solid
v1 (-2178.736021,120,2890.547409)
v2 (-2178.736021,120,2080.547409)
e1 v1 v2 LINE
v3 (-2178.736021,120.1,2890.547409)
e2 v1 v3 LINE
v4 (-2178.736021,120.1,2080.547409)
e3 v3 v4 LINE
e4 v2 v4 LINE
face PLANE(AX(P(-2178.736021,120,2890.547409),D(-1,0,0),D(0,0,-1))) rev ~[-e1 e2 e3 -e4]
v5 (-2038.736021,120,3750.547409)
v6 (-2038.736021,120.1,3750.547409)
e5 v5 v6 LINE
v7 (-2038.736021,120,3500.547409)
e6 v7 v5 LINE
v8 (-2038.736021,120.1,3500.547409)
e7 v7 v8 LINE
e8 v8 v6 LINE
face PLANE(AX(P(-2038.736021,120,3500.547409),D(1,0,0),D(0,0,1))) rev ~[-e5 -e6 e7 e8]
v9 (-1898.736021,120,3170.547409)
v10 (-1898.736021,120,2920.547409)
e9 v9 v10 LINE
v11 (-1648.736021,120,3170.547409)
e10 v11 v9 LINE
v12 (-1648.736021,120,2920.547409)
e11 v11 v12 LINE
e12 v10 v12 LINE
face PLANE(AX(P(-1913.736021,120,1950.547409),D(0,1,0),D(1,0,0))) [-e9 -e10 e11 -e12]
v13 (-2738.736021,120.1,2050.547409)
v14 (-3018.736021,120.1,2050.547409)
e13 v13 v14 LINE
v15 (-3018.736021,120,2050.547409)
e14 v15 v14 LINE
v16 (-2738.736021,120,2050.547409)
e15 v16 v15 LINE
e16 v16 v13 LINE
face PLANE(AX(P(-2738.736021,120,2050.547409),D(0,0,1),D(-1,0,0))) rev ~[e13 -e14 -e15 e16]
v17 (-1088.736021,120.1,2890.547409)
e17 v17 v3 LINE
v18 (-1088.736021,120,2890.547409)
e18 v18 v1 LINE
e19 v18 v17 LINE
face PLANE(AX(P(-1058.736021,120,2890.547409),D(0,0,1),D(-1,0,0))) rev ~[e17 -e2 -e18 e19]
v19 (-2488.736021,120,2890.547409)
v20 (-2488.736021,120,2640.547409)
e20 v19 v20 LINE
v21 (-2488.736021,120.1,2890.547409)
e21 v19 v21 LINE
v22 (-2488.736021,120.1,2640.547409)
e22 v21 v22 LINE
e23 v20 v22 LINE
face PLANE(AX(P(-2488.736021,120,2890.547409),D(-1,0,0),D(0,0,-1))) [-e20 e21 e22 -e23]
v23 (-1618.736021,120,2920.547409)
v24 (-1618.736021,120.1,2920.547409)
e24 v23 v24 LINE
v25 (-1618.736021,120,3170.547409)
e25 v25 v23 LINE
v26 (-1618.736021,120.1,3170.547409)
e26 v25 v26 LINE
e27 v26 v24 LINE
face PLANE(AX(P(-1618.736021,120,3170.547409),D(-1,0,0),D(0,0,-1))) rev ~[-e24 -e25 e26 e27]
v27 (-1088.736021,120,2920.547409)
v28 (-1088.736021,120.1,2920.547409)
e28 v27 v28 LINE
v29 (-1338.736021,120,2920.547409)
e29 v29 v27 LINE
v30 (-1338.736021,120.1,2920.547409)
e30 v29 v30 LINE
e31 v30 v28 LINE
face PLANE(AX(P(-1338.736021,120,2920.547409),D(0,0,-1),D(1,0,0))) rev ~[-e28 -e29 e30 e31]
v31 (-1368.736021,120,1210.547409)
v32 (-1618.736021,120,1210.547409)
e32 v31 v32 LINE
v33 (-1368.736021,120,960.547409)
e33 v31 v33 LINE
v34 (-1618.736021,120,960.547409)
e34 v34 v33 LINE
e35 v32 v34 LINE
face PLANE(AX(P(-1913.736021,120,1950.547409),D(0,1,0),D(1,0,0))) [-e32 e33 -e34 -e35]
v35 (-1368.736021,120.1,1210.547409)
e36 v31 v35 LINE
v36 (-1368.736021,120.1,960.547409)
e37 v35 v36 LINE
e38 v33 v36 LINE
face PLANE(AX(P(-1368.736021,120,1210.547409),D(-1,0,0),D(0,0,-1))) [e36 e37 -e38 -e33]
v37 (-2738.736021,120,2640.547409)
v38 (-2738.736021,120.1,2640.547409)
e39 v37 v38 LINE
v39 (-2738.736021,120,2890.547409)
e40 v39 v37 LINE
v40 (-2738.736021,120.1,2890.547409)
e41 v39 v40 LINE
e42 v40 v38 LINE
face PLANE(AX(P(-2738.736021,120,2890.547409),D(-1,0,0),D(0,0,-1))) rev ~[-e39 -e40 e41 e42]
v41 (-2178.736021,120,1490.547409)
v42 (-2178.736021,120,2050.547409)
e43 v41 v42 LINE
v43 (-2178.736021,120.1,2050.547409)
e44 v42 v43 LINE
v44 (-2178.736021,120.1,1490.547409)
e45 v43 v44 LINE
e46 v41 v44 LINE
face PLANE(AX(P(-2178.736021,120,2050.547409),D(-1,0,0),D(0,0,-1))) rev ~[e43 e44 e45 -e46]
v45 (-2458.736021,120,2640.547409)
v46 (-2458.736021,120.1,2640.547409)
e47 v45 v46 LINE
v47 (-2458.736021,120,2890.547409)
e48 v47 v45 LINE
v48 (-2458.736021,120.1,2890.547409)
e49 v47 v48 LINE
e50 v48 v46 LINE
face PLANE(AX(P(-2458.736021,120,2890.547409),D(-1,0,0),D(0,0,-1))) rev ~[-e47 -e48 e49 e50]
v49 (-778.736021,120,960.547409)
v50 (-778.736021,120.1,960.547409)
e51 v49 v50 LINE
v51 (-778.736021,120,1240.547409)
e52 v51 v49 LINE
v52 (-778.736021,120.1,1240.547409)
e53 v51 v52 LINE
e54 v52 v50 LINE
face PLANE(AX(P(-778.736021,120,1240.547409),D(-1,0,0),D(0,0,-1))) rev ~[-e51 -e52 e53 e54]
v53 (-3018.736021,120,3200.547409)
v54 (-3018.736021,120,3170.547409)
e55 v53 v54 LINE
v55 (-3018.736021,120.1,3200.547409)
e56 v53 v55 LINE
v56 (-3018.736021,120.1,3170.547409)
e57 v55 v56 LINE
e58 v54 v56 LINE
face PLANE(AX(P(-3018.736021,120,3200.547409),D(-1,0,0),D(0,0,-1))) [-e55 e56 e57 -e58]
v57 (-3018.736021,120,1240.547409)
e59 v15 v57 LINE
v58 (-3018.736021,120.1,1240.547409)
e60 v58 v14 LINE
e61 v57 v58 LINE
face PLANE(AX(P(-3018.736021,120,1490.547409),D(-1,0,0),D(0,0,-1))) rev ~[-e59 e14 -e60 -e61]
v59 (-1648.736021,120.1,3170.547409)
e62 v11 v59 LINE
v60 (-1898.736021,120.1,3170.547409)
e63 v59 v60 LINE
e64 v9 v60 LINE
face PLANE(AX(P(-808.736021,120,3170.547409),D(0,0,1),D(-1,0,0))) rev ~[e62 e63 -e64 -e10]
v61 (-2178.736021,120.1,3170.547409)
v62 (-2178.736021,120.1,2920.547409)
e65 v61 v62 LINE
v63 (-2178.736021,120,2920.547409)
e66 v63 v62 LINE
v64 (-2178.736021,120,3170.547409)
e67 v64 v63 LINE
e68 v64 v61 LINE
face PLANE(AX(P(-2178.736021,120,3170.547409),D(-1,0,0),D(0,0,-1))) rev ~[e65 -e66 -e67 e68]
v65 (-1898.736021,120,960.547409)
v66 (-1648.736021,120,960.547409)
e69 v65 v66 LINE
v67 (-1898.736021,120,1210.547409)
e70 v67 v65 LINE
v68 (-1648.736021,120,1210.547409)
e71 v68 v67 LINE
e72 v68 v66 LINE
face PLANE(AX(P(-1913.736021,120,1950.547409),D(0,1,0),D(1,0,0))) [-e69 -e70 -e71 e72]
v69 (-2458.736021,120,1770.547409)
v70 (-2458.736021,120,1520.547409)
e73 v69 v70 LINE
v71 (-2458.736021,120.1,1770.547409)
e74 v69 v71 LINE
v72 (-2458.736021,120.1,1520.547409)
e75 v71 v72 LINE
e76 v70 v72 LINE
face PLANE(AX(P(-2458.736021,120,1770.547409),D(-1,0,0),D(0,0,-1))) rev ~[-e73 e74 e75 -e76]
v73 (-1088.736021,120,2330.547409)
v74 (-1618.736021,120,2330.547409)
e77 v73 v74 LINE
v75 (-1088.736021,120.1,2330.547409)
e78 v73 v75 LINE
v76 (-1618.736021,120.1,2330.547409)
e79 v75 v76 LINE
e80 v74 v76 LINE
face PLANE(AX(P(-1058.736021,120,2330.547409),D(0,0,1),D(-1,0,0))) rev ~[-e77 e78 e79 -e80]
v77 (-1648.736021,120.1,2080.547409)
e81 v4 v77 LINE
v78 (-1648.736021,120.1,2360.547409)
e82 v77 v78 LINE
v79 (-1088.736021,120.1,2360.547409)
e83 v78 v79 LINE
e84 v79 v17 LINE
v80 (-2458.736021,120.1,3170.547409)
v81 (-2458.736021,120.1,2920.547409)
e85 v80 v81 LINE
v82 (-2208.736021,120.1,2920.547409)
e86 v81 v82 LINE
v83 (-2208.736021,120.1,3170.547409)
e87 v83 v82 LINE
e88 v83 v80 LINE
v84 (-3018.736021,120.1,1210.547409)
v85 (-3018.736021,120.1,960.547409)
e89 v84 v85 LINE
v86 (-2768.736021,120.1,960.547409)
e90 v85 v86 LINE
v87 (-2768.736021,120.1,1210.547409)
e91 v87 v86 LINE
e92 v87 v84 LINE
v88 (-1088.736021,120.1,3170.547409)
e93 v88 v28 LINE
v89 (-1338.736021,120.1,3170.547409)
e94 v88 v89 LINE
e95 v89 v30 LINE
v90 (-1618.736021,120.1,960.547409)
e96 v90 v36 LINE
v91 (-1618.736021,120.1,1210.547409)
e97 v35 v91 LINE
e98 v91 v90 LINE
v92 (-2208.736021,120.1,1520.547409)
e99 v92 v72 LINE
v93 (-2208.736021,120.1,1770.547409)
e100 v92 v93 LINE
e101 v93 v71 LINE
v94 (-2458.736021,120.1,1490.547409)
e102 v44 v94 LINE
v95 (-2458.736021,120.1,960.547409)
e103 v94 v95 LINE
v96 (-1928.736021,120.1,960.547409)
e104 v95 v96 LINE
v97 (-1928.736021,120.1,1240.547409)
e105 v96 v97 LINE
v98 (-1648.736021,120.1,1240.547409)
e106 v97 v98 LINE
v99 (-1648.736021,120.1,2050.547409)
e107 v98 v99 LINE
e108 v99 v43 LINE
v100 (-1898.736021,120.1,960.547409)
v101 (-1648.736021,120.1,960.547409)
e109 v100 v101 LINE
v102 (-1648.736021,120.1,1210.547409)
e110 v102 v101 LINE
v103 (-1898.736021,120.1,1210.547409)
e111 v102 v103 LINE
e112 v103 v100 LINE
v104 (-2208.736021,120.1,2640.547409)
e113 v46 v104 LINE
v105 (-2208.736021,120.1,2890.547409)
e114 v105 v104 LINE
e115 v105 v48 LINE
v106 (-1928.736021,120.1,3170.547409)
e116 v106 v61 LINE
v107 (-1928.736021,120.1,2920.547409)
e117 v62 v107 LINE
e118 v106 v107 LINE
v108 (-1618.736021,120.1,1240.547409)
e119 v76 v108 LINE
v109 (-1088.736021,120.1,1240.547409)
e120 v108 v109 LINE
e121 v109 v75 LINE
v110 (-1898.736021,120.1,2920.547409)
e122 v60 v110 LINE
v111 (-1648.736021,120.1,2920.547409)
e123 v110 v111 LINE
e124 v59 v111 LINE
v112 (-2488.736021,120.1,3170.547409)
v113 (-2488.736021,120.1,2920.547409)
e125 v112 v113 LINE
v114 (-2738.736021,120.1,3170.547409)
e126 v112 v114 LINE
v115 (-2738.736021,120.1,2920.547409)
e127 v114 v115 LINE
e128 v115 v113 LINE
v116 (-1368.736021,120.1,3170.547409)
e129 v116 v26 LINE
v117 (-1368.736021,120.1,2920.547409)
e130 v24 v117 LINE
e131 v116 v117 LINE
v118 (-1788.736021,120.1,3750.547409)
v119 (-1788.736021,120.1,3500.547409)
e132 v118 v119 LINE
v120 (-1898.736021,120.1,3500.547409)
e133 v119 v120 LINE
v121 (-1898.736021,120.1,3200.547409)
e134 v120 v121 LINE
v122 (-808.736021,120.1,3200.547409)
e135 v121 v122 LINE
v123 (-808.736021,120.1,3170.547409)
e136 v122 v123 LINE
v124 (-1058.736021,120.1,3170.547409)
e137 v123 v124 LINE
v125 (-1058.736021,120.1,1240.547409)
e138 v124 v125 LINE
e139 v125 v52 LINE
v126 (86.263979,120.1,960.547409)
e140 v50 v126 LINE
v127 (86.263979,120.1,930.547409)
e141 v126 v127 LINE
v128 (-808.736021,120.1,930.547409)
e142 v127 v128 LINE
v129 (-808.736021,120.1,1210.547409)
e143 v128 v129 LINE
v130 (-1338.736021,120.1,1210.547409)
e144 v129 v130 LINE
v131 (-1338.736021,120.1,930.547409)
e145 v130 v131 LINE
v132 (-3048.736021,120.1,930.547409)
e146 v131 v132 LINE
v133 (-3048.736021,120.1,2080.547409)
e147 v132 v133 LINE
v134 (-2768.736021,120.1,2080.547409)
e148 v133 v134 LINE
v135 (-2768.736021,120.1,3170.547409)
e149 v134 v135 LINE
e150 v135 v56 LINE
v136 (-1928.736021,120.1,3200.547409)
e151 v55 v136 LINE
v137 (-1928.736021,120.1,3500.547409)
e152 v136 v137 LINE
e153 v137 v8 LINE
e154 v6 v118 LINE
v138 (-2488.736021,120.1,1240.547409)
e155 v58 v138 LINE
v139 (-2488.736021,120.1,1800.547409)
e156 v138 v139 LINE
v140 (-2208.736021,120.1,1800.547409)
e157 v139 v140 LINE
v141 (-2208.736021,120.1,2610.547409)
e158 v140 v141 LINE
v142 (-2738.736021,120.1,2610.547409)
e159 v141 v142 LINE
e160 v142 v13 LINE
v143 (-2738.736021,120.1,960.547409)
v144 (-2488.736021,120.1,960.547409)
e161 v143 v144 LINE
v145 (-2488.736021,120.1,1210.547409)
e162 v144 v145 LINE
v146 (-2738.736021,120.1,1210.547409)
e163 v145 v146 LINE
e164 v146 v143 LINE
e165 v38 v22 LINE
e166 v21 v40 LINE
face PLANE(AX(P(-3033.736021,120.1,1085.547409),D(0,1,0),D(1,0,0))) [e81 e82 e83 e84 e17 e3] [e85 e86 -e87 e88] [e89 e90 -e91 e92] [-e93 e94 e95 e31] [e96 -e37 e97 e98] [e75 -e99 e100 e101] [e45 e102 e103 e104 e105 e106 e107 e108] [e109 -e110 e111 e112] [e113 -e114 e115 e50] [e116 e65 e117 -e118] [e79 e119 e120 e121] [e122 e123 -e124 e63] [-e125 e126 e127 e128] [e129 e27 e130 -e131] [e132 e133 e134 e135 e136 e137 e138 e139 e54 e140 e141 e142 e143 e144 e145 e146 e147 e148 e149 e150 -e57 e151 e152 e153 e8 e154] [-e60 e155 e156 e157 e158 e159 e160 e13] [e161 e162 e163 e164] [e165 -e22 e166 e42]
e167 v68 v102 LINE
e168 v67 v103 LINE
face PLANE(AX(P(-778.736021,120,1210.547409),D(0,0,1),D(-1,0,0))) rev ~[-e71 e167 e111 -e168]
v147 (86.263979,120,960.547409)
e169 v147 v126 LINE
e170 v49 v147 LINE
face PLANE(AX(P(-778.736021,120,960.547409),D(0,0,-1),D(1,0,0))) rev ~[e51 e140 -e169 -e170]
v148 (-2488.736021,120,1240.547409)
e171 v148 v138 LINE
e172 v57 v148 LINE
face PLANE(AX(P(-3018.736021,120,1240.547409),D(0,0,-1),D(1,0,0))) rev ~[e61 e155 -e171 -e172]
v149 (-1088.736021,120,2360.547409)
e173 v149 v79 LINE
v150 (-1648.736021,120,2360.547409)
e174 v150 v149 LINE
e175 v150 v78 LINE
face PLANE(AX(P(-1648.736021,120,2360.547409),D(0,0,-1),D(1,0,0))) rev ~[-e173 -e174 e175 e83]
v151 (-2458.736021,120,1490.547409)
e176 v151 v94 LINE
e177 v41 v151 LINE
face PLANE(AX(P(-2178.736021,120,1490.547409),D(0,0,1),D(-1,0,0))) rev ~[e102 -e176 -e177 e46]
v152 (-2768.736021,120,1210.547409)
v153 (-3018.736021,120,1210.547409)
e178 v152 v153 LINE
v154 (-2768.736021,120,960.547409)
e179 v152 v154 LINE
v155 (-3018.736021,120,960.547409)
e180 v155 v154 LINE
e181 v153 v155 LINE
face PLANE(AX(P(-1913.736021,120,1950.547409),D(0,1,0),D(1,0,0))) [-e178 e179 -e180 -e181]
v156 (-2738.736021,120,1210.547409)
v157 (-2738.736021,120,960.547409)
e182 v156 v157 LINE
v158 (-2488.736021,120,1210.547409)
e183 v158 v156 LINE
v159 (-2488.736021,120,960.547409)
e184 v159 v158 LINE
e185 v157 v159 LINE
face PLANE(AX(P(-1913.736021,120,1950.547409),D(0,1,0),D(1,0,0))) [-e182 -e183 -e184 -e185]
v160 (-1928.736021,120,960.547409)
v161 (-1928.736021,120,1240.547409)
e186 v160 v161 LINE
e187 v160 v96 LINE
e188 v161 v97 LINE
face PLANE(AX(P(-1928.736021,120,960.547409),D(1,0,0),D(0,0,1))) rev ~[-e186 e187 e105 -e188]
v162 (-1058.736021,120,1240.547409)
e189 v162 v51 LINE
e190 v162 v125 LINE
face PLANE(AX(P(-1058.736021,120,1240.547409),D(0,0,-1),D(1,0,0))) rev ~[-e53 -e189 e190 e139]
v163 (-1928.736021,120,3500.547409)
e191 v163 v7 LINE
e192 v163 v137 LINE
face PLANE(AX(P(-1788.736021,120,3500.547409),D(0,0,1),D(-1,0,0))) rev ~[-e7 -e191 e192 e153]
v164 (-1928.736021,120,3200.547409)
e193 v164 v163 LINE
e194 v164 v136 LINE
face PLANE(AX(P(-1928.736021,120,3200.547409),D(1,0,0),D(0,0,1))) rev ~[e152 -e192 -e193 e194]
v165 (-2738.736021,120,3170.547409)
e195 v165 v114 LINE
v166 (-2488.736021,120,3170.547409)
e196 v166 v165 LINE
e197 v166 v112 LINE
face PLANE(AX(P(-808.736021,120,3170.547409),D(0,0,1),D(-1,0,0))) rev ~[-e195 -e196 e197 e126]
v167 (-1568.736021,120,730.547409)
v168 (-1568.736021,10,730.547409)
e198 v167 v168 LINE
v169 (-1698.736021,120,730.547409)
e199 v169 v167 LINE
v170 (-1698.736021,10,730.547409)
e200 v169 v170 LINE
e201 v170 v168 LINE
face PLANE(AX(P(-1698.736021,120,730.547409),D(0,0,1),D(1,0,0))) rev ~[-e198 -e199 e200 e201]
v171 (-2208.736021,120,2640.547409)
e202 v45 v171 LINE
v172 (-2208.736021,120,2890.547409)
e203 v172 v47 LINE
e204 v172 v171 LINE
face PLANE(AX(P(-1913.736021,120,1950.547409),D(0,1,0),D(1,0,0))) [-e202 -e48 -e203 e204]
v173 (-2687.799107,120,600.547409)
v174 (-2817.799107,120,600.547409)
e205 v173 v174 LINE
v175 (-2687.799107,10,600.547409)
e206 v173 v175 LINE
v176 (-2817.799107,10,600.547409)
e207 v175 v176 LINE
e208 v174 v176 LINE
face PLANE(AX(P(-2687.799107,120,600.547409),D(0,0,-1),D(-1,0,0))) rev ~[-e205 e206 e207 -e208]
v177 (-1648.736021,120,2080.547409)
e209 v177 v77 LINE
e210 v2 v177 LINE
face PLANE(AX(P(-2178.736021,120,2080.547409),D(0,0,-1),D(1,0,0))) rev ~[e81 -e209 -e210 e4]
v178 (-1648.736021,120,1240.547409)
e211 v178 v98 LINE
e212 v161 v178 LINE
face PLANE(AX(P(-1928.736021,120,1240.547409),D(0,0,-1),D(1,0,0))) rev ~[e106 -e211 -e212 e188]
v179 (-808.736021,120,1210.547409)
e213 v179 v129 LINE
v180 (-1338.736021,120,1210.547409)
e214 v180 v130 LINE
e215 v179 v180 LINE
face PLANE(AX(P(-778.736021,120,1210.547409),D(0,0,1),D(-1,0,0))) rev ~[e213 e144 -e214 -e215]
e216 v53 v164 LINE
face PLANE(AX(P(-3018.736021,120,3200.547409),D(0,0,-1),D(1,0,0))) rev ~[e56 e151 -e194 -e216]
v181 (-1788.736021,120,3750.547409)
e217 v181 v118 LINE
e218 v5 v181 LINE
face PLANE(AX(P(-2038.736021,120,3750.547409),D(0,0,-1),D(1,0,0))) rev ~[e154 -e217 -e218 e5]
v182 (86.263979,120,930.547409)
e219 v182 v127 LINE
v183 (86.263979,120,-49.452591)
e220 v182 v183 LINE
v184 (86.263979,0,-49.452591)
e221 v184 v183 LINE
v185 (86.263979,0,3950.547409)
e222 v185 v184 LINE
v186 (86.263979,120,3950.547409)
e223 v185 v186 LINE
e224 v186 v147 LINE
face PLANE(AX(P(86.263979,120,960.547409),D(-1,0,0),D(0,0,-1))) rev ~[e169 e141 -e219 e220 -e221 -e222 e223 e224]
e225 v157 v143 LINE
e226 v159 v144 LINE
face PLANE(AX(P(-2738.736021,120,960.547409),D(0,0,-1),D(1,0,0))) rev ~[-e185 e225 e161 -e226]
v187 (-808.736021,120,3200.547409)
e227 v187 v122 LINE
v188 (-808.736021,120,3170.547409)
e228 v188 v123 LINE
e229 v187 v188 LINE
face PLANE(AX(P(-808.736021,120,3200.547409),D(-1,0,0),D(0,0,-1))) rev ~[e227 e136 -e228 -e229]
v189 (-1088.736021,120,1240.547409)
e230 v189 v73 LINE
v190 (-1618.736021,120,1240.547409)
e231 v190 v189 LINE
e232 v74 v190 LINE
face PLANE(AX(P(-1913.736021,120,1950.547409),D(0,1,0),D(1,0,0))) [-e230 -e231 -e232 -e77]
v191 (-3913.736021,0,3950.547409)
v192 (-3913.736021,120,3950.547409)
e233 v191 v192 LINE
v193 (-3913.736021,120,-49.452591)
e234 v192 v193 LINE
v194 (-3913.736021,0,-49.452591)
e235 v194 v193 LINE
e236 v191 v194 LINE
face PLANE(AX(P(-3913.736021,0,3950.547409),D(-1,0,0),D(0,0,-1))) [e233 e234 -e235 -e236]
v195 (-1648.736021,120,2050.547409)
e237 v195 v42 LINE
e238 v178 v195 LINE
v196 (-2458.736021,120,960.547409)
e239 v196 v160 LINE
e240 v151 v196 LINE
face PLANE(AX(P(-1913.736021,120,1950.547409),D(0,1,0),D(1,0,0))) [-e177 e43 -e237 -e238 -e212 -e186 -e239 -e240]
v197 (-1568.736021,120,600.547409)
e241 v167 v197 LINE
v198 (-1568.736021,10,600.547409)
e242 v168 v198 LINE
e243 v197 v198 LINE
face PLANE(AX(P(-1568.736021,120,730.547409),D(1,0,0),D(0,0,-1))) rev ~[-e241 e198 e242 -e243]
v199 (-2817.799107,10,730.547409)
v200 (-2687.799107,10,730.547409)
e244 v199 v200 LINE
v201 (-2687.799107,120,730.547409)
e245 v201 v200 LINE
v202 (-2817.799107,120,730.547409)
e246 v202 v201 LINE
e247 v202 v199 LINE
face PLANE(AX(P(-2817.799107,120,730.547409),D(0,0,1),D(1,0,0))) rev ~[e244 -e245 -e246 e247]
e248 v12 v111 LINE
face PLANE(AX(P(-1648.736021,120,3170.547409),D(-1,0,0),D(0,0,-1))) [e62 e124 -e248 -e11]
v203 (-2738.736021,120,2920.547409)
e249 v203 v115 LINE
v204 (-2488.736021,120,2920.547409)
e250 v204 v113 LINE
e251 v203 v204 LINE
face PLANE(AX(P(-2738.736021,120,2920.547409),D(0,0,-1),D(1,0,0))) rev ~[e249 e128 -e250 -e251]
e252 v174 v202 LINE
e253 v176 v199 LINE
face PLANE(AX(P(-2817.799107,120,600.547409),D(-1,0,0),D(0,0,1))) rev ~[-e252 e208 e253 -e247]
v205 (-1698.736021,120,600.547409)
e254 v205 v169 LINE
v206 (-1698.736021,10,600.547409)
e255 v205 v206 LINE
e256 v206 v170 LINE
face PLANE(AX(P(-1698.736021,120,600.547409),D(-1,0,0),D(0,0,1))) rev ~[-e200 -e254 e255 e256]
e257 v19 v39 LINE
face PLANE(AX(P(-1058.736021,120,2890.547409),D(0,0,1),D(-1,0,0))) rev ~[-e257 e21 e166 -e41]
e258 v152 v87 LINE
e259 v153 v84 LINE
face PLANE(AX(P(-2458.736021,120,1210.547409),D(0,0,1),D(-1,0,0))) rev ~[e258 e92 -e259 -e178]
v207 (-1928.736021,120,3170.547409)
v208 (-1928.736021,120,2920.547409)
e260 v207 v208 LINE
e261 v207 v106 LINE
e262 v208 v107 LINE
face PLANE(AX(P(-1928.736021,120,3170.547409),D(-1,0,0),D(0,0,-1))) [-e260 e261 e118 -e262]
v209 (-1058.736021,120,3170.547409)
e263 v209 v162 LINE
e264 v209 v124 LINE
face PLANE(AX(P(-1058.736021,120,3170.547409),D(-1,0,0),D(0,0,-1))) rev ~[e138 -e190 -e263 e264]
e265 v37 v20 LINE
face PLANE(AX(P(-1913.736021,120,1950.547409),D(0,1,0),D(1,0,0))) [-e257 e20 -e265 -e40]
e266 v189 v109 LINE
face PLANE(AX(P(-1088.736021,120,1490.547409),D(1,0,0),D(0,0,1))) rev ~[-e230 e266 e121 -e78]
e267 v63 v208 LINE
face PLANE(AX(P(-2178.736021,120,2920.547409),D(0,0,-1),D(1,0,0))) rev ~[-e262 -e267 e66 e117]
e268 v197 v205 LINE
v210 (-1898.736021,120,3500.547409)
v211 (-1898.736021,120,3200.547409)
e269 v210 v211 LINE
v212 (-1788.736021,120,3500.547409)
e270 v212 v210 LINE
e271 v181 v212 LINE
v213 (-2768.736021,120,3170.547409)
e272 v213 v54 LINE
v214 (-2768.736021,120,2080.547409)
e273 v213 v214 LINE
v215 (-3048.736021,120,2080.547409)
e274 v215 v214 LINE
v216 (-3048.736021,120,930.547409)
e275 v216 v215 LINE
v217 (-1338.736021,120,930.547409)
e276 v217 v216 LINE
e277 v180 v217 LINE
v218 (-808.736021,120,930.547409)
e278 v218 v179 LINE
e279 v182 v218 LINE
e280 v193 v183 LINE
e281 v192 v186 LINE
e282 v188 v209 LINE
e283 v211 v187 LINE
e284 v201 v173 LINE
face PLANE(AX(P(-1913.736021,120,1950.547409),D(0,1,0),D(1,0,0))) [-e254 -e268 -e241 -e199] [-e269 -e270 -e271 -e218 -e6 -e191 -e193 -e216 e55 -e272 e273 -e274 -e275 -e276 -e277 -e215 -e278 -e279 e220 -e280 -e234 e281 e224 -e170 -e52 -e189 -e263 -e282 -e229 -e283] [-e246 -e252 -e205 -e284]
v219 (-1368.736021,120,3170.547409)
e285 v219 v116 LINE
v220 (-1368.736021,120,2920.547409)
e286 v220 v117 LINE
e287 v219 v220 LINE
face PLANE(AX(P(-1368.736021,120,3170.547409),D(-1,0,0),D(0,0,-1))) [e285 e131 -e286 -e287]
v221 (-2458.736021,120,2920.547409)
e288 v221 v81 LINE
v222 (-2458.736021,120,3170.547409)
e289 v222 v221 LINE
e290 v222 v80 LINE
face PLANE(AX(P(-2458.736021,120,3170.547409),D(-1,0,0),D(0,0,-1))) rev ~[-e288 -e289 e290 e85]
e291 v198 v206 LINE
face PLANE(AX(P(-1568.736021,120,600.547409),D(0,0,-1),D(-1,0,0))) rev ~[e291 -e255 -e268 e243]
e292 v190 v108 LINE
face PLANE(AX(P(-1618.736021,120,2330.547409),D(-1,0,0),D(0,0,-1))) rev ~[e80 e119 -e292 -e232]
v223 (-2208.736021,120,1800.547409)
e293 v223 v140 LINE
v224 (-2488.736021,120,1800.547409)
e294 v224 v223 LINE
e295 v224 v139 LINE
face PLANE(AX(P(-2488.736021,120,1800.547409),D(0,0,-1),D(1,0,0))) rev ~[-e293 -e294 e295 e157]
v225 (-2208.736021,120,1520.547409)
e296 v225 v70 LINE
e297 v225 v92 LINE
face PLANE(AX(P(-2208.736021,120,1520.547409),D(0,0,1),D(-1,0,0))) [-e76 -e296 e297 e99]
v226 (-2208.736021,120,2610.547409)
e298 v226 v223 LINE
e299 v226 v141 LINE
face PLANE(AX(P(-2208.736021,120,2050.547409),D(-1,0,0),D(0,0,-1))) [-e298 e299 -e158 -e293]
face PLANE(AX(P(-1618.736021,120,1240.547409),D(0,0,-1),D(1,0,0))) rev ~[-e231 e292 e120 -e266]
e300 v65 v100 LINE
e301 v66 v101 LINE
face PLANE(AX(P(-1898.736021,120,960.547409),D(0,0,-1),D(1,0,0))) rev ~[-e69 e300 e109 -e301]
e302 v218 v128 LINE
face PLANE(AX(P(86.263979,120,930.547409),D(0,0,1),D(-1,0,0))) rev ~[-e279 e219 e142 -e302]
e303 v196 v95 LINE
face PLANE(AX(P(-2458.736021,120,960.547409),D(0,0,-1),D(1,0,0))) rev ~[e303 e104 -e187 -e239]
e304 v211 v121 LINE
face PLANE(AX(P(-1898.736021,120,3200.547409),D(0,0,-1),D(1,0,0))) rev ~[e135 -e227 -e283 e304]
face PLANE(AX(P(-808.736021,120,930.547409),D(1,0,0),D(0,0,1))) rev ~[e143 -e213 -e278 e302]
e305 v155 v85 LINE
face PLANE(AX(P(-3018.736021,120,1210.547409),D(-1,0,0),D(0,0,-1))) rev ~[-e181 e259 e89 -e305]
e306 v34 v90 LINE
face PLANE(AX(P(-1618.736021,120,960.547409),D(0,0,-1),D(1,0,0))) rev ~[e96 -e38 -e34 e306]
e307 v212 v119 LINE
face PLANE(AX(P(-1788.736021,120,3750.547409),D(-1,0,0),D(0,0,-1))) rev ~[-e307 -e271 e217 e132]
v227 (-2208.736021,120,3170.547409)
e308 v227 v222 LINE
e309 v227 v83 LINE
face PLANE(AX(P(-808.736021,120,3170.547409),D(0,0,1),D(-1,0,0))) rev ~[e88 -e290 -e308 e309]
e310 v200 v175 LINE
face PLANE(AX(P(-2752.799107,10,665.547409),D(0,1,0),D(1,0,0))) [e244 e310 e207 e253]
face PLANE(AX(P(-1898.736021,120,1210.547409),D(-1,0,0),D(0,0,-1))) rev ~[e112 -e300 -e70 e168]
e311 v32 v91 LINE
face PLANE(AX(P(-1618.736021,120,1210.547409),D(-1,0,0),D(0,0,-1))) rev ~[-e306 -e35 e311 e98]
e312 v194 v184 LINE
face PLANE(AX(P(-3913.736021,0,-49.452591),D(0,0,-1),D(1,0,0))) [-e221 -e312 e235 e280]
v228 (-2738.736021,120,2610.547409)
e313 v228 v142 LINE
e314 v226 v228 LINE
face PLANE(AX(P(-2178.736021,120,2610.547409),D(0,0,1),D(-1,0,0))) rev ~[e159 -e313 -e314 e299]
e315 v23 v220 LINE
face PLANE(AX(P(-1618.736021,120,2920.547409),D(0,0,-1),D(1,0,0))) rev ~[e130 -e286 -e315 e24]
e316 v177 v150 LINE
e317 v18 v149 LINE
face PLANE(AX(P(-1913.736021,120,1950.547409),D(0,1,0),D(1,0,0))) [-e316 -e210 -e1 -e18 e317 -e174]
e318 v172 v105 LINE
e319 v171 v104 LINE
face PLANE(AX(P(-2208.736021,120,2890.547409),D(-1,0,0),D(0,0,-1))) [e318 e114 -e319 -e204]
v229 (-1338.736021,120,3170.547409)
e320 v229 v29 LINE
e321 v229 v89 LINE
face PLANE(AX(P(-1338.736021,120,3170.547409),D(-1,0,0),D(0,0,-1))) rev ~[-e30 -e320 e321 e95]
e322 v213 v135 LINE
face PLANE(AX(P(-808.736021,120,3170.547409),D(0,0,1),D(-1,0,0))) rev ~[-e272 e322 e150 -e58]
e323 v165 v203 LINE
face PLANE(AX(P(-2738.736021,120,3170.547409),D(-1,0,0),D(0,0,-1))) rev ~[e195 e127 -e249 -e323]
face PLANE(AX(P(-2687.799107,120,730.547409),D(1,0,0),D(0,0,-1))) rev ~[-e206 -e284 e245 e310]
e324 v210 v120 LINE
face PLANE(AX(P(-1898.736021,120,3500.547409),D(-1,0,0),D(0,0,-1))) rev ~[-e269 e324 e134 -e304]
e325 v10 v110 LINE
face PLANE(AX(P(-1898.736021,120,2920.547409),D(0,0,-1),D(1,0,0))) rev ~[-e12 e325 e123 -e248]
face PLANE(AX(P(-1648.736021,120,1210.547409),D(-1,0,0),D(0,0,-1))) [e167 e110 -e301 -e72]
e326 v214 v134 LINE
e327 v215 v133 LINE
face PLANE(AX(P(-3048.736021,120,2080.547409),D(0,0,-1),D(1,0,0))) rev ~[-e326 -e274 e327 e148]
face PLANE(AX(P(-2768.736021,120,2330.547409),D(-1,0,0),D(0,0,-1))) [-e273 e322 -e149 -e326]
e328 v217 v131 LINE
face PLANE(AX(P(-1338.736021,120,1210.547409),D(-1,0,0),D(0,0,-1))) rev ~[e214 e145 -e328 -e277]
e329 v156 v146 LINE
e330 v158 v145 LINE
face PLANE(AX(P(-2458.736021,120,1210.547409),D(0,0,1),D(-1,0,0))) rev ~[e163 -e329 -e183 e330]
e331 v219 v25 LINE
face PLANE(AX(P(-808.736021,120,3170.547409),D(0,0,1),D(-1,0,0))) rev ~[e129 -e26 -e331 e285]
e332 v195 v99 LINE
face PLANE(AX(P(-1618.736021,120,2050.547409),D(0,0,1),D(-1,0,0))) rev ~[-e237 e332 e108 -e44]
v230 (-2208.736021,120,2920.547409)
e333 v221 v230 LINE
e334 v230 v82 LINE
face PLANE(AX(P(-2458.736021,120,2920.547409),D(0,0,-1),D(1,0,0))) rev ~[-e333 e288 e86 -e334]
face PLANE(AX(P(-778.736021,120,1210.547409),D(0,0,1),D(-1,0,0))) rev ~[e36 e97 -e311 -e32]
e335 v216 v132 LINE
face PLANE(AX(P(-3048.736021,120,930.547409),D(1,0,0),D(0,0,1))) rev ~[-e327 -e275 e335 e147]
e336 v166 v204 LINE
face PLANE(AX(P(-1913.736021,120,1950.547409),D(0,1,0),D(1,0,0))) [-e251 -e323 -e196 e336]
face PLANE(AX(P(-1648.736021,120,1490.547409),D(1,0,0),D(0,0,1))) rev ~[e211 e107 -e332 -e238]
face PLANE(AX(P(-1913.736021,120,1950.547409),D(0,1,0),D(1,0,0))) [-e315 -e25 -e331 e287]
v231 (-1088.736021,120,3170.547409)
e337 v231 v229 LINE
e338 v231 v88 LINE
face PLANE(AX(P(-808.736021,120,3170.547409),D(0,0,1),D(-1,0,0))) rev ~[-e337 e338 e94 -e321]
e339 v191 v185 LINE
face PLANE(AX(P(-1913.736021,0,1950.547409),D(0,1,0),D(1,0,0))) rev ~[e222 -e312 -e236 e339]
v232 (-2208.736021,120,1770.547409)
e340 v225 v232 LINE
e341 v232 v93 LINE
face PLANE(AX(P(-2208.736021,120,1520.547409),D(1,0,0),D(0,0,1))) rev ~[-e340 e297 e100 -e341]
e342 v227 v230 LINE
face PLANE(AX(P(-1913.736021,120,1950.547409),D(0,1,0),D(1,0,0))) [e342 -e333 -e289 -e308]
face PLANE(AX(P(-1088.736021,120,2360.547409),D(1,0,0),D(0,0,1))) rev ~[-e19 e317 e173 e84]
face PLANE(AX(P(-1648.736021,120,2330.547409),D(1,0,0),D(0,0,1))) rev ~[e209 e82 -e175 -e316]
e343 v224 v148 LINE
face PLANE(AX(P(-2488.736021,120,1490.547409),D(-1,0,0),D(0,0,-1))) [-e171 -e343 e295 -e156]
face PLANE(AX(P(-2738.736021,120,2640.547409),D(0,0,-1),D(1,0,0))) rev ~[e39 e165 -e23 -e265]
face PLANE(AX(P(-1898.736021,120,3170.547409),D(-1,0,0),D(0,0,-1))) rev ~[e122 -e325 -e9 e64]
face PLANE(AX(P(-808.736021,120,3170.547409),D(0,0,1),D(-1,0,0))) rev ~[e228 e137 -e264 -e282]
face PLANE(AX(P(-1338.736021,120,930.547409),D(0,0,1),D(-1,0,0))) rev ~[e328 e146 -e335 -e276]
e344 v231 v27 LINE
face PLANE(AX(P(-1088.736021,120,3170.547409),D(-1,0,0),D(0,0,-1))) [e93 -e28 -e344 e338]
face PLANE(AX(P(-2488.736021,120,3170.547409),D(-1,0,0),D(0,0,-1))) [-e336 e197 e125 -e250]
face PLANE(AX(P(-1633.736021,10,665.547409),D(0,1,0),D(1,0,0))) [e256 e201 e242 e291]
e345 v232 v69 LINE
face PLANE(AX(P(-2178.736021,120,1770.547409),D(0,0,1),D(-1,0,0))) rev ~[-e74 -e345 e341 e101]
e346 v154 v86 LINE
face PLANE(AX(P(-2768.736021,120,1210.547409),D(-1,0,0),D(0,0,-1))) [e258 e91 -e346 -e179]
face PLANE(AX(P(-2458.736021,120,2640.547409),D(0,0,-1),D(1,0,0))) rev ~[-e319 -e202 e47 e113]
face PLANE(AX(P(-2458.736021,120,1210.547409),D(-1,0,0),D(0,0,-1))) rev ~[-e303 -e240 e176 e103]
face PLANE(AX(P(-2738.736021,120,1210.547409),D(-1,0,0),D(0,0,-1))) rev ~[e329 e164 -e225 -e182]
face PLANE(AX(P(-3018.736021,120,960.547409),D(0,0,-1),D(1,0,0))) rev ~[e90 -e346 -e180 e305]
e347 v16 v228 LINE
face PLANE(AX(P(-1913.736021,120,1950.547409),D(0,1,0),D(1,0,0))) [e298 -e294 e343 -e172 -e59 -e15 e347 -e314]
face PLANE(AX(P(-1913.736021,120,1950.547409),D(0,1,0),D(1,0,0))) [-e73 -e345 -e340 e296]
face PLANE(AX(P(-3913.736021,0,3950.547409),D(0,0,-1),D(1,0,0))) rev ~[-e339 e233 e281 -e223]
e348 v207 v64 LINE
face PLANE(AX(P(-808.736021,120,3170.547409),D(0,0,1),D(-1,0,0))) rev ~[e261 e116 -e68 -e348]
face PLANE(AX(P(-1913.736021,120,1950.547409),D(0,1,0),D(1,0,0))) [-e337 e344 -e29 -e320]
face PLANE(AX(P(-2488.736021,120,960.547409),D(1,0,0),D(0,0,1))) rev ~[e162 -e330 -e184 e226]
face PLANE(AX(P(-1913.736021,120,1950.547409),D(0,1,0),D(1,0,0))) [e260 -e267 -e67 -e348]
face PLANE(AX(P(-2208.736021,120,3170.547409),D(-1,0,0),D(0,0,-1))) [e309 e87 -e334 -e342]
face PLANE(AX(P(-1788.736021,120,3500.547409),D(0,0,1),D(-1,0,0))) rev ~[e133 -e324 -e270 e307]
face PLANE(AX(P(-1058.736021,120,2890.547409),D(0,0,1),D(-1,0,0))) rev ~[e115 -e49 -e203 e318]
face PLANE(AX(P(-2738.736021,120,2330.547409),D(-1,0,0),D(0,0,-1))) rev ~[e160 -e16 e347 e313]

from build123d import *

# Parameters (mm, degrees)
SKETCH1_W                 = 4000
SKETCH1_H                 = 4000
BOSS_EXTRUDE1_DEPTH       = 120
START_DEPTH               = 0.1
SKETCH5_W                 = 1090
SKETCH5_H                 = 30
FIRST_LINE_DEPTH          = 0.1
SKETCH7_W                 = 30
SKETCH7_H                 = 250
SKETCH7_H_2               = 30
SKETCH7_W_2               = 250
FIRST_SET_OF_GRIDS_DEPTH  = 0.1
SKETCH9_W                 = 30
SKETCH9_H                 = 250
SKETCH9_H_2               = 30
SKETCH9_W_2               = 250
SECOND_SET_OF_GRIDS_DEPTH = 0.1
SKETCH10_W                = 30
SKETCH10_H                = 280
THIRD_SET_DEPTH           = 0.1
SKETCH13_W                = 30
SKETCH13_H                = 30
SKETCH13_W_2              = 250
SKETCH13_H_2              = 250
F_4TH_SET_DEPTH           = 0.1
SKETCH14_W                = 30
SKETCH14_H                = 250
SKETCH14_H_2              = 30
SKETCH14_W_2              = 250
F_5TH_SET_DEPTH           = 0.1
SKETCH15_W                = 30
SKETCH15_H                = 250
SKETCH15_H_2              = 30
F_6TH_SET_DEPTH           = 0.1
SKETCH16_W                = 30
SKETCH16_H                = 250
SKETCH16_H_2              = 30
SKETCH16_W_2              = 250
F_7TH_SET_DEPTH           = 0.1
SKETCH17_W                = 30
SKETCH17_H                = 250
SKETCH17_H_2              = 30
SKETCH17_W_2              = 250
SKETCH17_W_3              = 865
F_8TH_SET_DEPTH           = 0.1
CAVITIES_DEPTH            = 110


with BuildPart() as part:
    # Sketch1 → Boss-Extrude1 (new body)
    with BuildSketch(Plane(origin=(0, 0, 0), x_dir=(1, 0, 0), z_dir=(0, 1, 0))):
        with Locations((-1913.736021211, -1950.54740935)):
            Rectangle(SKETCH1_W, SKETCH1_H)
    extrude(amount=BOSS_EXTRUDE1_DEPTH)

    # Sketch4 → Start (add)
    with BuildSketch(Plane(origin=(0, 120, 0), x_dir=(1, 0, 0), z_dir=(0, 1, 0))):
        Polygon((-2038.736021211, -3500.54740935), (-2038.736021211, -3750.54740935), (-1913.736021211, -3750.54740935), (-1788.736021211, -3750.54740935), (-1788.736021211, -3500.54740935), align=None)
    extrude(amount=START_DEPTH)

    # Sketch5 → First line (add)
    with BuildSketch(Plane(origin=(0, 120, 0), x_dir=(1, 0, 0), z_dir=(0, 1, 0))):
        with Locations((-1353.736021211, -3185.54740935)):
            Rectangle(SKETCH5_W, SKETCH5_H)
        with Locations((-2473.736021211, -3185.54740935)):
            Rectangle(SKETCH5_W, SKETCH5_H)
        Polygon((-1928.736021211, -3500.54740935), (-1913.736021211, -3500.54740935), (-1913.736021211, -3239.780731093), (-1913.736021211, -3233.358018457), (-1913.736021211, -3200.54740935), (-1928.736021211, -3200.54740935), align=None)
        Polygon((-1913.736021211, -3239.780731093), (-1913.736021211, -3500.54740935), (-1898.736021211, -3500.54740935), (-1898.736021211, -3200.54740935), (-1913.736021211, -3200.54740935), (-1913.736021211, -3233.358018457), align=None)
        Polygon((-1898.736021211, -3170.54740935), (-1898.736021211, -3200.54740935), (-1913.736021211, -3200.54740935), (-1928.736021211, -3200.54740935), (-1928.736021211, -3170.54740935), align=None)
    extrude(amount=FIRST_LINE_DEPTH)

    # Sketch7 → First set of grids (add)
    with BuildSketch(Plane(origin=(0, 120, 0), x_dir=(1, 0, 0), z_dir=(0, 1, 0))):
        with Locations((-2753.736021211, -3045.54740935)):
            Rectangle(SKETCH7_W, SKETCH7_H)
        with Locations((-2753.736021211, -2905.54740935)):
            Rectangle(SKETCH7_W, SKETCH7_H_2)
        with Locations((-2613.736021211, -2905.54740935)):
            Rectangle(SKETCH7_W_2, SKETCH7_H_2)
        with Locations((-2473.736021211, -2905.54740935)):
            Rectangle(SKETCH7_W, SKETCH7_H_2)
        with Locations((-2473.736021211, -3045.54740935)):
            Rectangle(SKETCH7_W, SKETCH7_H)
        with Locations((-2333.736021211, -2905.54740935)):
            Rectangle(SKETCH7_W_2, SKETCH7_H_2)
        with Locations((-2193.736021211, -2905.54740935)):
            Rectangle(SKETCH7_W, SKETCH7_H_2)
        with Locations((-2193.736021211, -3045.54740935)):
            Rectangle(SKETCH7_W, SKETCH7_H)
        with Locations((-2053.736021211, -2905.54740935)):
            Rectangle(SKETCH7_W_2, SKETCH7_H_2)
        with Locations((-1913.736021211, -2905.54740935)):
            Rectangle(SKETCH7_W, SKETCH7_H_2)
        with Locations((-1773.736021211, -2905.54740935)):
            Rectangle(SKETCH7_W_2, SKETCH7_H_2)
        with Locations((-1913.736021211, -3045.54740935)):
            Rectangle(SKETCH7_W, SKETCH7_H)
        with Locations((-1493.736021211, -2905.54740935)):
            Rectangle(SKETCH7_W_2, SKETCH7_H_2)
        with Locations((-1633.736021211, -2905.54740935)):
            Rectangle(SKETCH7_W, SKETCH7_H_2)
        with Locations((-1633.736021211, -3045.54740935)):
            Rectangle(SKETCH7_W, SKETCH7_H)
        with Locations((-1353.736021211, -2905.54740935)):
            Rectangle(SKETCH7_W, SKETCH7_H_2)
        with Locations((-1353.736021211, -3045.54740935)):
            Rectangle(SKETCH7_W, SKETCH7_H)
        with Locations((-1213.736021211, -2905.54740935)):
            Rectangle(SKETCH7_W_2, SKETCH7_H_2)
        with Locations((-1073.736021211, -2905.54740935)):
            Rectangle(SKETCH7_W, SKETCH7_H_2)
        with Locations((-1073.736021211, -3045.54740935)):
            Rectangle(SKETCH7_W, SKETCH7_H)
    extrude(amount=FIRST_SET_OF_GRIDS_DEPTH)

    # Sketch9 → Second Set of grids (add)
    with BuildSketch(Plane(origin=(0, 120, 0), x_dir=(1, 0, 0), z_dir=(0, 1, 0))):
        with Locations((-2753.736021211, -2765.54740935)):
            Rectangle(SKETCH9_W, SKETCH9_H)
        with Locations((-2753.736021211, -2625.54740935)):
            Rectangle(SKETCH9_W, SKETCH9_H_2)
        with Locations((-2613.736021211, -2625.54740935)):
            Rectangle(SKETCH9_W_2, SKETCH9_H_2)
        with Locations((-2473.736021211, -2625.54740935)):
            Rectangle(SKETCH9_W, SKETCH9_H_2)
        with Locations((-2473.736021211, -2765.54740935)):
            Rectangle(SKETCH9_W, SKETCH9_H)
        with Locations((-2333.736021211, -2625.54740935)):
            Rectangle(SKETCH9_W_2, SKETCH9_H_2)
        with Locations((-2193.736021211, -2625.54740935)):
            Rectangle(SKETCH9_W, SKETCH9_H_2)
        with Locations((-2193.736021211, -2765.54740935)):
            Rectangle(SKETCH9_W, SKETCH9_H)
        with Locations((-1073.736021211, -2765.54740935)):
            Rectangle(SKETCH9_W, SKETCH9_H)
        with Locations((-1073.736021211, -2625.54740935)):
            Rectangle(SKETCH9_W, SKETCH9_H_2)
    extrude(amount=SECOND_SET_OF_GRIDS_DEPTH)

    # Sketch10 → Third Set (add)
    with BuildSketch(Plane(origin=(0, 120, 0), x_dir=(1, 0, 0), z_dir=(0, 1, 0))):
        with Locations((-2753.736021211, -2470.54740935)):
            Rectangle(SKETCH10_W, SKETCH10_H)
        with Locations((-2193.736021211, -2470.54740935)):
            Rectangle(SKETCH10_W, SKETCH10_H)
        Polygon((-1088.736021211, -2610.54740935), (-1058.736021211, -2610.54740935), (-1058.736021211, -2330.54740935), (-1648.736021211, -2330.54740935), (-1648.736021211, -2360.54740935), (-1088.736021211, -2360.54740935), align=None)
    extrude(amount=THIRD_SET_DEPTH)

    # Sketch13 → 4th set (add)
    with BuildSketch(Plane(origin=(0, 120, 0), x_dir=(1, 0, 0), z_dir=(0, 1, 0))):
        with Locations((-3033.736021211, -2065.54740935)):
            Rectangle(SKETCH13_W, SKETCH13_H)
        with Locations((-2893.736021211, -2065.54740935)):
            Rectangle(SKETCH13_W_2, SKETCH13_H)
        with Locations((-2753.736021211, -2065.54740935)):
            Rectangle(SKETCH13_W, SKETCH13_H)
        with Locations((-2753.736021211, -2205.54740935)):
            Rectangle(SKETCH13_W, SKETCH13_H_2)
        with Locations((-2193.736021211, -2205.54740935)):
            Rectangle(SKETCH13_W, SKETCH13_H_2)
        with Locations((-2193.736021211, -2065.54740935)):
            Rectangle(SKETCH13_W, SKETCH13_H)
        with Locations((-2053.736021211, -2065.54740935)):
            Rectangle(SKETCH13_W_2, SKETCH13_H)
        with Locations((-1773.736021211, -2065.54740935)):
            Rectangle(SKETCH13_W_2, SKETCH13_H)
        with Locations((-1913.736021211, -2065.54740935)):
            Rectangle(SKETCH13_W, SKETCH13_H)
        with Locations((-1633.736021211, -2065.54740935)):
            Rectangle(SKETCH13_W, SKETCH13_H)
        with Locations((-1633.736021211, -2205.54740935)):
            Rectangle(SKETCH13_W, SKETCH13_H_2)
        with Locations((-1073.736021211, -2205.54740935)):
            Rectangle(SKETCH13_W, SKETCH13_H_2)
        with Locations((-1073.736021211, -2065.54740935)):
            Rectangle(SKETCH13_W, SKETCH13_H)
    extrude(amount=F_4TH_SET_DEPTH)

    # Sketch14 → 5th set (add)
    with BuildSketch(Plane(origin=(0, 120, 0), x_dir=(1, 0, 0), z_dir=(0, 1, 0))):
        with Locations((-3033.736021211, -1925.54740935)):
            Rectangle(SKETCH14_W, SKETCH14_H)
        with Locations((-3033.736021211, -1785.54740935)):
            Rectangle(SKETCH14_W, SKETCH14_H_2)
        with Locations((-2333.736021211, -1785.54740935)):
            Rectangle(SKETCH14_W_2, SKETCH14_H_2)
        with Locations((-2473.736021211, -1785.54740935)):
            Rectangle(SKETCH14_W, SKETCH14_H_2)
        with Locations((-2193.736021211, -1785.54740935)):
            Rectangle(SKETCH14_W, SKETCH14_H_2)
        with Locations((-2193.736021211, -1925.54740935)):
            Rectangle(SKETCH14_W, SKETCH14_H)
        with Locations((-1633.736021211, -1925.54740935)):
            Rectangle(SKETCH14_W, SKETCH14_H)
        with Locations((-1633.736021211, -1785.54740935)):
            Rectangle(SKETCH14_W, SKETCH14_H_2)
        with Locations((-1073.736021211, -1925.54740935)):
            Rectangle(SKETCH14_W, SKETCH14_H)
        with Locations((-1073.736021211, -1785.54740935)):
            Rectangle(SKETCH14_W, SKETCH14_H_2)
    extrude(amount=F_5TH_SET_DEPTH)

    # Sketch15 → 6th set (add)
    with BuildSketch(Plane(origin=(0, 120, 0), x_dir=(1, 0, 0), z_dir=(0, 1, 0))):
        with Locations((-3033.736021211, -1645.54740935)):
            Rectangle(SKETCH15_W, SKETCH15_H)
        with Locations((-3033.736021211, -1505.54740935)):
            Rectangle(SKETCH15_W, SKETCH15_H_2)
        with Locations((-2473.736021211, -1645.54740935)):
            Rectangle(SKETCH15_W, SKETCH15_H)
        Polygon((-2458.736021211, -1520.54740935), (-2488.736021211, -1520.54740935), (-2488.736021211, -1490.54740935), (-2458.736021211, -1490.54740935), (-2208.736021211, -1490.54740935), (-2208.736021211, -1520.54740935), align=None)
        Polygon((-2208.736021211, -1520.54740935), (-2208.736021211, -1770.54740935), (-2178.736021211, -1770.54740935), (-2178.736021211, -1520.54740935), (-2178.736021211, -1490.54740935), (-2208.736021211, -1490.54740935), align=None)
        with Locations((-1633.736021211, -1645.54740935)):
            Rectangle(SKETCH15_W, SKETCH15_H)
        with Locations((-1073.736021211, -1645.54740935)):
            Rectangle(SKETCH15_W, SKETCH15_H)
        with Locations((-1073.736021211, -1505.54740935)):
            Rectangle(SKETCH15_W, SKETCH15_H_2)
        with Locations((-1633.736021211, -1505.54740935)):
            Rectangle(SKETCH15_W, SKETCH15_H_2)
    extrude(amount=F_6TH_SET_DEPTH)

    # Sketch16 → 7th set (add)
    with BuildSketch(Plane(origin=(0, 120, 0), x_dir=(1, 0, 0), z_dir=(0, 1, 0))):
        with Locations((-3033.736021211, -1365.54740935)):
            Rectangle(SKETCH16_W, SKETCH16_H)
        with Locations((-3033.736021211, -1225.54740935)):
            Rectangle(SKETCH16_W, SKETCH16_H_2)
        with Locations((-2893.736021211, -1225.54740935)):
            Rectangle(SKETCH16_W_2, SKETCH16_H_2)
        with Locations((-2753.736021211, -1225.54740935)):
            Rectangle(SKETCH16_W, SKETCH16_H_2)
        with Locations((-2613.736021211, -1225.54740935)):
            Rectangle(SKETCH16_W_2, SKETCH16_H_2)
        with Locations((-2473.736021211, -1365.54740935)):
            Rectangle(SKETCH16_W, SKETCH16_H)
        with Locations((-2473.736021211, -1225.54740935)):
            Rectangle(SKETCH16_W, SKETCH16_H_2)
        with Locations((-1633.736021211, -1365.54740935)):
            Rectangle(SKETCH16_W, SKETCH16_H)
        with Locations((-1773.736021211, -1225.54740935)):
            Rectangle(SKETCH16_W_2, SKETCH16_H_2)
        with Locations((-1913.736021211, -1225.54740935)):
            Rectangle(SKETCH16_W, SKETCH16_H_2)
        with Locations((-1633.736021211, -1225.54740935)):
            Rectangle(SKETCH16_W, SKETCH16_H_2)
        with Locations((-1493.736021211, -1225.54740935)):
            Rectangle(SKETCH16_W_2, SKETCH16_H_2)
        with Locations((-1353.736021211, -1225.54740935)):
            Rectangle(SKETCH16_W, SKETCH16_H_2)
        with Locations((-1213.736021211, -1225.54740935)):
            Rectangle(SKETCH16_W_2, SKETCH16_H_2)
        with Locations((-933.736021211, -1225.54740935)):
            Rectangle(SKETCH16_W_2, SKETCH16_H_2)
        with Locations((-793.736021211, -1225.54740935)):
            Rectangle(SKETCH16_W, SKETCH16_H_2)
        with Locations((-1073.736021211, -1225.54740935)):
            Rectangle(SKETCH16_W, SKETCH16_H_2)
        with Locations((-1073.736021211, -1365.54740935)):
            Rectangle(SKETCH16_W, SKETCH16_H)
    extrude(amount=F_7TH_SET_DEPTH)

    # Sketch17 → 8th set (add)
    with BuildSketch(Plane(origin=(0, 120, 0), x_dir=(1, 0, 0), z_dir=(0, 1, 0))):
        with Locations((-3033.736021211, -1085.54740935)):
            Rectangle(SKETCH17_W, SKETCH17_H)
        with Locations((-3033.736021211, -945.54740935)):
            Rectangle(SKETCH17_W, SKETCH17_H_2)
        with Locations((-2893.736021211, -945.54740935)):
            Rectangle(SKETCH17_W_2, SKETCH17_H_2)
        with Locations((-2753.736021211, -945.54740935)):
            Rectangle(SKETCH17_W, SKETCH17_H_2)
        with Locations((-2613.736021211, -945.54740935)):
            Rectangle(SKETCH17_W_2, SKETCH17_H_2)
        with Locations((-2753.736021211, -1085.54740935)):
            Rectangle(SKETCH17_W, SKETCH17_H)
        Polygon((-2488.736021211, -960.54740935), (-2488.736021211, -1210.54740935), (-2458.736021211, -1210.54740935), (-2458.736021211, -960.54740935), (-2458.736021211, -930.54740935), (-2488.736021211, -930.54740935), align=None)
        with Locations((-2333.736021211, -945.54740935)):
            Rectangle(SKETCH17_W_2, SKETCH17_H_2)
        with Locations((-2193.736021211, -945.54740935)):
            Rectangle(SKETCH17_W, SKETCH17_H_2)
        with Locations((-2053.736021211, -945.54740935)):
            Rectangle(SKETCH17_W_2, SKETCH17_H_2)
        Polygon((-1928.736021211, -930.54740935), (-1928.736021211, -960.54740935), (-1928.736021211, -1210.54740935), (-1898.736021211, -1210.54740935), (-1898.736021211, -960.54740935), (-1898.736021211, -930.54740935), align=None)
        with Locations((-1773.736021211, -945.54740935)):
            Rectangle(SKETCH17_W_2, SKETCH17_H_2)
        with Locations((-1633.736021211, -945.54740935)):
            Rectangle(SKETCH17_W, SKETCH17_H_2)
        with Locations((-1633.736021211, -1085.54740935)):
            Rectangle(SKETCH17_W, SKETCH17_H)
        with Locations((-1493.736021211, -945.54740935)):
            Rectangle(SKETCH17_W_2, SKETCH17_H_2)
        with Locations((-1353.736021211, -945.54740935)):
            Rectangle(SKETCH17_W, SKETCH17_H_2)
        with Locations((-1353.736021211, -1085.54740935)):
            Rectangle(SKETCH17_W, SKETCH17_H)
        with Locations((-793.736021211, -1085.54740935)):
            Rectangle(SKETCH17_W, SKETCH17_H)
        with Locations((-793.736021211, -945.54740935)):
            Rectangle(SKETCH17_W, SKETCH17_H_2)
        with Locations((-346.236021211, -945.54740935)):
            Rectangle(SKETCH17_W_3, SKETCH17_H_2)
    extrude(amount=F_8TH_SET_DEPTH)

    # Sketch18 → Cavities (cut)
    with BuildSketch(Plane(origin=(0, 120, 0), x_dir=(1, 0, 0), z_dir=(0, 1, 0))):
        Polygon((-2817.799107354, -730.54740935), (-2767.799107354, -730.54740935), (-2752.799107354, -730.54740935), (-2737.799107354, -730.54740935), (-2687.799107354, -730.54740935), (-2687.799107354, -600.54740935), (-2817.799107354, -600.54740935), align=None)
        Polygon((-1698.736021211, -730.54740935), (-1648.736021211, -730.54740935), (-1633.736021211, -730.54740935), (-1618.736021211, -730.54740935), (-1568.736021211, -730.54740935), (-1568.736021211, -600.54740935), (-1698.736021211, -600.54740935), align=None)
    extrude(amount=-CAVITIES_DEPTH, mode=Mode.SUBTRACT)


solid = part.part
